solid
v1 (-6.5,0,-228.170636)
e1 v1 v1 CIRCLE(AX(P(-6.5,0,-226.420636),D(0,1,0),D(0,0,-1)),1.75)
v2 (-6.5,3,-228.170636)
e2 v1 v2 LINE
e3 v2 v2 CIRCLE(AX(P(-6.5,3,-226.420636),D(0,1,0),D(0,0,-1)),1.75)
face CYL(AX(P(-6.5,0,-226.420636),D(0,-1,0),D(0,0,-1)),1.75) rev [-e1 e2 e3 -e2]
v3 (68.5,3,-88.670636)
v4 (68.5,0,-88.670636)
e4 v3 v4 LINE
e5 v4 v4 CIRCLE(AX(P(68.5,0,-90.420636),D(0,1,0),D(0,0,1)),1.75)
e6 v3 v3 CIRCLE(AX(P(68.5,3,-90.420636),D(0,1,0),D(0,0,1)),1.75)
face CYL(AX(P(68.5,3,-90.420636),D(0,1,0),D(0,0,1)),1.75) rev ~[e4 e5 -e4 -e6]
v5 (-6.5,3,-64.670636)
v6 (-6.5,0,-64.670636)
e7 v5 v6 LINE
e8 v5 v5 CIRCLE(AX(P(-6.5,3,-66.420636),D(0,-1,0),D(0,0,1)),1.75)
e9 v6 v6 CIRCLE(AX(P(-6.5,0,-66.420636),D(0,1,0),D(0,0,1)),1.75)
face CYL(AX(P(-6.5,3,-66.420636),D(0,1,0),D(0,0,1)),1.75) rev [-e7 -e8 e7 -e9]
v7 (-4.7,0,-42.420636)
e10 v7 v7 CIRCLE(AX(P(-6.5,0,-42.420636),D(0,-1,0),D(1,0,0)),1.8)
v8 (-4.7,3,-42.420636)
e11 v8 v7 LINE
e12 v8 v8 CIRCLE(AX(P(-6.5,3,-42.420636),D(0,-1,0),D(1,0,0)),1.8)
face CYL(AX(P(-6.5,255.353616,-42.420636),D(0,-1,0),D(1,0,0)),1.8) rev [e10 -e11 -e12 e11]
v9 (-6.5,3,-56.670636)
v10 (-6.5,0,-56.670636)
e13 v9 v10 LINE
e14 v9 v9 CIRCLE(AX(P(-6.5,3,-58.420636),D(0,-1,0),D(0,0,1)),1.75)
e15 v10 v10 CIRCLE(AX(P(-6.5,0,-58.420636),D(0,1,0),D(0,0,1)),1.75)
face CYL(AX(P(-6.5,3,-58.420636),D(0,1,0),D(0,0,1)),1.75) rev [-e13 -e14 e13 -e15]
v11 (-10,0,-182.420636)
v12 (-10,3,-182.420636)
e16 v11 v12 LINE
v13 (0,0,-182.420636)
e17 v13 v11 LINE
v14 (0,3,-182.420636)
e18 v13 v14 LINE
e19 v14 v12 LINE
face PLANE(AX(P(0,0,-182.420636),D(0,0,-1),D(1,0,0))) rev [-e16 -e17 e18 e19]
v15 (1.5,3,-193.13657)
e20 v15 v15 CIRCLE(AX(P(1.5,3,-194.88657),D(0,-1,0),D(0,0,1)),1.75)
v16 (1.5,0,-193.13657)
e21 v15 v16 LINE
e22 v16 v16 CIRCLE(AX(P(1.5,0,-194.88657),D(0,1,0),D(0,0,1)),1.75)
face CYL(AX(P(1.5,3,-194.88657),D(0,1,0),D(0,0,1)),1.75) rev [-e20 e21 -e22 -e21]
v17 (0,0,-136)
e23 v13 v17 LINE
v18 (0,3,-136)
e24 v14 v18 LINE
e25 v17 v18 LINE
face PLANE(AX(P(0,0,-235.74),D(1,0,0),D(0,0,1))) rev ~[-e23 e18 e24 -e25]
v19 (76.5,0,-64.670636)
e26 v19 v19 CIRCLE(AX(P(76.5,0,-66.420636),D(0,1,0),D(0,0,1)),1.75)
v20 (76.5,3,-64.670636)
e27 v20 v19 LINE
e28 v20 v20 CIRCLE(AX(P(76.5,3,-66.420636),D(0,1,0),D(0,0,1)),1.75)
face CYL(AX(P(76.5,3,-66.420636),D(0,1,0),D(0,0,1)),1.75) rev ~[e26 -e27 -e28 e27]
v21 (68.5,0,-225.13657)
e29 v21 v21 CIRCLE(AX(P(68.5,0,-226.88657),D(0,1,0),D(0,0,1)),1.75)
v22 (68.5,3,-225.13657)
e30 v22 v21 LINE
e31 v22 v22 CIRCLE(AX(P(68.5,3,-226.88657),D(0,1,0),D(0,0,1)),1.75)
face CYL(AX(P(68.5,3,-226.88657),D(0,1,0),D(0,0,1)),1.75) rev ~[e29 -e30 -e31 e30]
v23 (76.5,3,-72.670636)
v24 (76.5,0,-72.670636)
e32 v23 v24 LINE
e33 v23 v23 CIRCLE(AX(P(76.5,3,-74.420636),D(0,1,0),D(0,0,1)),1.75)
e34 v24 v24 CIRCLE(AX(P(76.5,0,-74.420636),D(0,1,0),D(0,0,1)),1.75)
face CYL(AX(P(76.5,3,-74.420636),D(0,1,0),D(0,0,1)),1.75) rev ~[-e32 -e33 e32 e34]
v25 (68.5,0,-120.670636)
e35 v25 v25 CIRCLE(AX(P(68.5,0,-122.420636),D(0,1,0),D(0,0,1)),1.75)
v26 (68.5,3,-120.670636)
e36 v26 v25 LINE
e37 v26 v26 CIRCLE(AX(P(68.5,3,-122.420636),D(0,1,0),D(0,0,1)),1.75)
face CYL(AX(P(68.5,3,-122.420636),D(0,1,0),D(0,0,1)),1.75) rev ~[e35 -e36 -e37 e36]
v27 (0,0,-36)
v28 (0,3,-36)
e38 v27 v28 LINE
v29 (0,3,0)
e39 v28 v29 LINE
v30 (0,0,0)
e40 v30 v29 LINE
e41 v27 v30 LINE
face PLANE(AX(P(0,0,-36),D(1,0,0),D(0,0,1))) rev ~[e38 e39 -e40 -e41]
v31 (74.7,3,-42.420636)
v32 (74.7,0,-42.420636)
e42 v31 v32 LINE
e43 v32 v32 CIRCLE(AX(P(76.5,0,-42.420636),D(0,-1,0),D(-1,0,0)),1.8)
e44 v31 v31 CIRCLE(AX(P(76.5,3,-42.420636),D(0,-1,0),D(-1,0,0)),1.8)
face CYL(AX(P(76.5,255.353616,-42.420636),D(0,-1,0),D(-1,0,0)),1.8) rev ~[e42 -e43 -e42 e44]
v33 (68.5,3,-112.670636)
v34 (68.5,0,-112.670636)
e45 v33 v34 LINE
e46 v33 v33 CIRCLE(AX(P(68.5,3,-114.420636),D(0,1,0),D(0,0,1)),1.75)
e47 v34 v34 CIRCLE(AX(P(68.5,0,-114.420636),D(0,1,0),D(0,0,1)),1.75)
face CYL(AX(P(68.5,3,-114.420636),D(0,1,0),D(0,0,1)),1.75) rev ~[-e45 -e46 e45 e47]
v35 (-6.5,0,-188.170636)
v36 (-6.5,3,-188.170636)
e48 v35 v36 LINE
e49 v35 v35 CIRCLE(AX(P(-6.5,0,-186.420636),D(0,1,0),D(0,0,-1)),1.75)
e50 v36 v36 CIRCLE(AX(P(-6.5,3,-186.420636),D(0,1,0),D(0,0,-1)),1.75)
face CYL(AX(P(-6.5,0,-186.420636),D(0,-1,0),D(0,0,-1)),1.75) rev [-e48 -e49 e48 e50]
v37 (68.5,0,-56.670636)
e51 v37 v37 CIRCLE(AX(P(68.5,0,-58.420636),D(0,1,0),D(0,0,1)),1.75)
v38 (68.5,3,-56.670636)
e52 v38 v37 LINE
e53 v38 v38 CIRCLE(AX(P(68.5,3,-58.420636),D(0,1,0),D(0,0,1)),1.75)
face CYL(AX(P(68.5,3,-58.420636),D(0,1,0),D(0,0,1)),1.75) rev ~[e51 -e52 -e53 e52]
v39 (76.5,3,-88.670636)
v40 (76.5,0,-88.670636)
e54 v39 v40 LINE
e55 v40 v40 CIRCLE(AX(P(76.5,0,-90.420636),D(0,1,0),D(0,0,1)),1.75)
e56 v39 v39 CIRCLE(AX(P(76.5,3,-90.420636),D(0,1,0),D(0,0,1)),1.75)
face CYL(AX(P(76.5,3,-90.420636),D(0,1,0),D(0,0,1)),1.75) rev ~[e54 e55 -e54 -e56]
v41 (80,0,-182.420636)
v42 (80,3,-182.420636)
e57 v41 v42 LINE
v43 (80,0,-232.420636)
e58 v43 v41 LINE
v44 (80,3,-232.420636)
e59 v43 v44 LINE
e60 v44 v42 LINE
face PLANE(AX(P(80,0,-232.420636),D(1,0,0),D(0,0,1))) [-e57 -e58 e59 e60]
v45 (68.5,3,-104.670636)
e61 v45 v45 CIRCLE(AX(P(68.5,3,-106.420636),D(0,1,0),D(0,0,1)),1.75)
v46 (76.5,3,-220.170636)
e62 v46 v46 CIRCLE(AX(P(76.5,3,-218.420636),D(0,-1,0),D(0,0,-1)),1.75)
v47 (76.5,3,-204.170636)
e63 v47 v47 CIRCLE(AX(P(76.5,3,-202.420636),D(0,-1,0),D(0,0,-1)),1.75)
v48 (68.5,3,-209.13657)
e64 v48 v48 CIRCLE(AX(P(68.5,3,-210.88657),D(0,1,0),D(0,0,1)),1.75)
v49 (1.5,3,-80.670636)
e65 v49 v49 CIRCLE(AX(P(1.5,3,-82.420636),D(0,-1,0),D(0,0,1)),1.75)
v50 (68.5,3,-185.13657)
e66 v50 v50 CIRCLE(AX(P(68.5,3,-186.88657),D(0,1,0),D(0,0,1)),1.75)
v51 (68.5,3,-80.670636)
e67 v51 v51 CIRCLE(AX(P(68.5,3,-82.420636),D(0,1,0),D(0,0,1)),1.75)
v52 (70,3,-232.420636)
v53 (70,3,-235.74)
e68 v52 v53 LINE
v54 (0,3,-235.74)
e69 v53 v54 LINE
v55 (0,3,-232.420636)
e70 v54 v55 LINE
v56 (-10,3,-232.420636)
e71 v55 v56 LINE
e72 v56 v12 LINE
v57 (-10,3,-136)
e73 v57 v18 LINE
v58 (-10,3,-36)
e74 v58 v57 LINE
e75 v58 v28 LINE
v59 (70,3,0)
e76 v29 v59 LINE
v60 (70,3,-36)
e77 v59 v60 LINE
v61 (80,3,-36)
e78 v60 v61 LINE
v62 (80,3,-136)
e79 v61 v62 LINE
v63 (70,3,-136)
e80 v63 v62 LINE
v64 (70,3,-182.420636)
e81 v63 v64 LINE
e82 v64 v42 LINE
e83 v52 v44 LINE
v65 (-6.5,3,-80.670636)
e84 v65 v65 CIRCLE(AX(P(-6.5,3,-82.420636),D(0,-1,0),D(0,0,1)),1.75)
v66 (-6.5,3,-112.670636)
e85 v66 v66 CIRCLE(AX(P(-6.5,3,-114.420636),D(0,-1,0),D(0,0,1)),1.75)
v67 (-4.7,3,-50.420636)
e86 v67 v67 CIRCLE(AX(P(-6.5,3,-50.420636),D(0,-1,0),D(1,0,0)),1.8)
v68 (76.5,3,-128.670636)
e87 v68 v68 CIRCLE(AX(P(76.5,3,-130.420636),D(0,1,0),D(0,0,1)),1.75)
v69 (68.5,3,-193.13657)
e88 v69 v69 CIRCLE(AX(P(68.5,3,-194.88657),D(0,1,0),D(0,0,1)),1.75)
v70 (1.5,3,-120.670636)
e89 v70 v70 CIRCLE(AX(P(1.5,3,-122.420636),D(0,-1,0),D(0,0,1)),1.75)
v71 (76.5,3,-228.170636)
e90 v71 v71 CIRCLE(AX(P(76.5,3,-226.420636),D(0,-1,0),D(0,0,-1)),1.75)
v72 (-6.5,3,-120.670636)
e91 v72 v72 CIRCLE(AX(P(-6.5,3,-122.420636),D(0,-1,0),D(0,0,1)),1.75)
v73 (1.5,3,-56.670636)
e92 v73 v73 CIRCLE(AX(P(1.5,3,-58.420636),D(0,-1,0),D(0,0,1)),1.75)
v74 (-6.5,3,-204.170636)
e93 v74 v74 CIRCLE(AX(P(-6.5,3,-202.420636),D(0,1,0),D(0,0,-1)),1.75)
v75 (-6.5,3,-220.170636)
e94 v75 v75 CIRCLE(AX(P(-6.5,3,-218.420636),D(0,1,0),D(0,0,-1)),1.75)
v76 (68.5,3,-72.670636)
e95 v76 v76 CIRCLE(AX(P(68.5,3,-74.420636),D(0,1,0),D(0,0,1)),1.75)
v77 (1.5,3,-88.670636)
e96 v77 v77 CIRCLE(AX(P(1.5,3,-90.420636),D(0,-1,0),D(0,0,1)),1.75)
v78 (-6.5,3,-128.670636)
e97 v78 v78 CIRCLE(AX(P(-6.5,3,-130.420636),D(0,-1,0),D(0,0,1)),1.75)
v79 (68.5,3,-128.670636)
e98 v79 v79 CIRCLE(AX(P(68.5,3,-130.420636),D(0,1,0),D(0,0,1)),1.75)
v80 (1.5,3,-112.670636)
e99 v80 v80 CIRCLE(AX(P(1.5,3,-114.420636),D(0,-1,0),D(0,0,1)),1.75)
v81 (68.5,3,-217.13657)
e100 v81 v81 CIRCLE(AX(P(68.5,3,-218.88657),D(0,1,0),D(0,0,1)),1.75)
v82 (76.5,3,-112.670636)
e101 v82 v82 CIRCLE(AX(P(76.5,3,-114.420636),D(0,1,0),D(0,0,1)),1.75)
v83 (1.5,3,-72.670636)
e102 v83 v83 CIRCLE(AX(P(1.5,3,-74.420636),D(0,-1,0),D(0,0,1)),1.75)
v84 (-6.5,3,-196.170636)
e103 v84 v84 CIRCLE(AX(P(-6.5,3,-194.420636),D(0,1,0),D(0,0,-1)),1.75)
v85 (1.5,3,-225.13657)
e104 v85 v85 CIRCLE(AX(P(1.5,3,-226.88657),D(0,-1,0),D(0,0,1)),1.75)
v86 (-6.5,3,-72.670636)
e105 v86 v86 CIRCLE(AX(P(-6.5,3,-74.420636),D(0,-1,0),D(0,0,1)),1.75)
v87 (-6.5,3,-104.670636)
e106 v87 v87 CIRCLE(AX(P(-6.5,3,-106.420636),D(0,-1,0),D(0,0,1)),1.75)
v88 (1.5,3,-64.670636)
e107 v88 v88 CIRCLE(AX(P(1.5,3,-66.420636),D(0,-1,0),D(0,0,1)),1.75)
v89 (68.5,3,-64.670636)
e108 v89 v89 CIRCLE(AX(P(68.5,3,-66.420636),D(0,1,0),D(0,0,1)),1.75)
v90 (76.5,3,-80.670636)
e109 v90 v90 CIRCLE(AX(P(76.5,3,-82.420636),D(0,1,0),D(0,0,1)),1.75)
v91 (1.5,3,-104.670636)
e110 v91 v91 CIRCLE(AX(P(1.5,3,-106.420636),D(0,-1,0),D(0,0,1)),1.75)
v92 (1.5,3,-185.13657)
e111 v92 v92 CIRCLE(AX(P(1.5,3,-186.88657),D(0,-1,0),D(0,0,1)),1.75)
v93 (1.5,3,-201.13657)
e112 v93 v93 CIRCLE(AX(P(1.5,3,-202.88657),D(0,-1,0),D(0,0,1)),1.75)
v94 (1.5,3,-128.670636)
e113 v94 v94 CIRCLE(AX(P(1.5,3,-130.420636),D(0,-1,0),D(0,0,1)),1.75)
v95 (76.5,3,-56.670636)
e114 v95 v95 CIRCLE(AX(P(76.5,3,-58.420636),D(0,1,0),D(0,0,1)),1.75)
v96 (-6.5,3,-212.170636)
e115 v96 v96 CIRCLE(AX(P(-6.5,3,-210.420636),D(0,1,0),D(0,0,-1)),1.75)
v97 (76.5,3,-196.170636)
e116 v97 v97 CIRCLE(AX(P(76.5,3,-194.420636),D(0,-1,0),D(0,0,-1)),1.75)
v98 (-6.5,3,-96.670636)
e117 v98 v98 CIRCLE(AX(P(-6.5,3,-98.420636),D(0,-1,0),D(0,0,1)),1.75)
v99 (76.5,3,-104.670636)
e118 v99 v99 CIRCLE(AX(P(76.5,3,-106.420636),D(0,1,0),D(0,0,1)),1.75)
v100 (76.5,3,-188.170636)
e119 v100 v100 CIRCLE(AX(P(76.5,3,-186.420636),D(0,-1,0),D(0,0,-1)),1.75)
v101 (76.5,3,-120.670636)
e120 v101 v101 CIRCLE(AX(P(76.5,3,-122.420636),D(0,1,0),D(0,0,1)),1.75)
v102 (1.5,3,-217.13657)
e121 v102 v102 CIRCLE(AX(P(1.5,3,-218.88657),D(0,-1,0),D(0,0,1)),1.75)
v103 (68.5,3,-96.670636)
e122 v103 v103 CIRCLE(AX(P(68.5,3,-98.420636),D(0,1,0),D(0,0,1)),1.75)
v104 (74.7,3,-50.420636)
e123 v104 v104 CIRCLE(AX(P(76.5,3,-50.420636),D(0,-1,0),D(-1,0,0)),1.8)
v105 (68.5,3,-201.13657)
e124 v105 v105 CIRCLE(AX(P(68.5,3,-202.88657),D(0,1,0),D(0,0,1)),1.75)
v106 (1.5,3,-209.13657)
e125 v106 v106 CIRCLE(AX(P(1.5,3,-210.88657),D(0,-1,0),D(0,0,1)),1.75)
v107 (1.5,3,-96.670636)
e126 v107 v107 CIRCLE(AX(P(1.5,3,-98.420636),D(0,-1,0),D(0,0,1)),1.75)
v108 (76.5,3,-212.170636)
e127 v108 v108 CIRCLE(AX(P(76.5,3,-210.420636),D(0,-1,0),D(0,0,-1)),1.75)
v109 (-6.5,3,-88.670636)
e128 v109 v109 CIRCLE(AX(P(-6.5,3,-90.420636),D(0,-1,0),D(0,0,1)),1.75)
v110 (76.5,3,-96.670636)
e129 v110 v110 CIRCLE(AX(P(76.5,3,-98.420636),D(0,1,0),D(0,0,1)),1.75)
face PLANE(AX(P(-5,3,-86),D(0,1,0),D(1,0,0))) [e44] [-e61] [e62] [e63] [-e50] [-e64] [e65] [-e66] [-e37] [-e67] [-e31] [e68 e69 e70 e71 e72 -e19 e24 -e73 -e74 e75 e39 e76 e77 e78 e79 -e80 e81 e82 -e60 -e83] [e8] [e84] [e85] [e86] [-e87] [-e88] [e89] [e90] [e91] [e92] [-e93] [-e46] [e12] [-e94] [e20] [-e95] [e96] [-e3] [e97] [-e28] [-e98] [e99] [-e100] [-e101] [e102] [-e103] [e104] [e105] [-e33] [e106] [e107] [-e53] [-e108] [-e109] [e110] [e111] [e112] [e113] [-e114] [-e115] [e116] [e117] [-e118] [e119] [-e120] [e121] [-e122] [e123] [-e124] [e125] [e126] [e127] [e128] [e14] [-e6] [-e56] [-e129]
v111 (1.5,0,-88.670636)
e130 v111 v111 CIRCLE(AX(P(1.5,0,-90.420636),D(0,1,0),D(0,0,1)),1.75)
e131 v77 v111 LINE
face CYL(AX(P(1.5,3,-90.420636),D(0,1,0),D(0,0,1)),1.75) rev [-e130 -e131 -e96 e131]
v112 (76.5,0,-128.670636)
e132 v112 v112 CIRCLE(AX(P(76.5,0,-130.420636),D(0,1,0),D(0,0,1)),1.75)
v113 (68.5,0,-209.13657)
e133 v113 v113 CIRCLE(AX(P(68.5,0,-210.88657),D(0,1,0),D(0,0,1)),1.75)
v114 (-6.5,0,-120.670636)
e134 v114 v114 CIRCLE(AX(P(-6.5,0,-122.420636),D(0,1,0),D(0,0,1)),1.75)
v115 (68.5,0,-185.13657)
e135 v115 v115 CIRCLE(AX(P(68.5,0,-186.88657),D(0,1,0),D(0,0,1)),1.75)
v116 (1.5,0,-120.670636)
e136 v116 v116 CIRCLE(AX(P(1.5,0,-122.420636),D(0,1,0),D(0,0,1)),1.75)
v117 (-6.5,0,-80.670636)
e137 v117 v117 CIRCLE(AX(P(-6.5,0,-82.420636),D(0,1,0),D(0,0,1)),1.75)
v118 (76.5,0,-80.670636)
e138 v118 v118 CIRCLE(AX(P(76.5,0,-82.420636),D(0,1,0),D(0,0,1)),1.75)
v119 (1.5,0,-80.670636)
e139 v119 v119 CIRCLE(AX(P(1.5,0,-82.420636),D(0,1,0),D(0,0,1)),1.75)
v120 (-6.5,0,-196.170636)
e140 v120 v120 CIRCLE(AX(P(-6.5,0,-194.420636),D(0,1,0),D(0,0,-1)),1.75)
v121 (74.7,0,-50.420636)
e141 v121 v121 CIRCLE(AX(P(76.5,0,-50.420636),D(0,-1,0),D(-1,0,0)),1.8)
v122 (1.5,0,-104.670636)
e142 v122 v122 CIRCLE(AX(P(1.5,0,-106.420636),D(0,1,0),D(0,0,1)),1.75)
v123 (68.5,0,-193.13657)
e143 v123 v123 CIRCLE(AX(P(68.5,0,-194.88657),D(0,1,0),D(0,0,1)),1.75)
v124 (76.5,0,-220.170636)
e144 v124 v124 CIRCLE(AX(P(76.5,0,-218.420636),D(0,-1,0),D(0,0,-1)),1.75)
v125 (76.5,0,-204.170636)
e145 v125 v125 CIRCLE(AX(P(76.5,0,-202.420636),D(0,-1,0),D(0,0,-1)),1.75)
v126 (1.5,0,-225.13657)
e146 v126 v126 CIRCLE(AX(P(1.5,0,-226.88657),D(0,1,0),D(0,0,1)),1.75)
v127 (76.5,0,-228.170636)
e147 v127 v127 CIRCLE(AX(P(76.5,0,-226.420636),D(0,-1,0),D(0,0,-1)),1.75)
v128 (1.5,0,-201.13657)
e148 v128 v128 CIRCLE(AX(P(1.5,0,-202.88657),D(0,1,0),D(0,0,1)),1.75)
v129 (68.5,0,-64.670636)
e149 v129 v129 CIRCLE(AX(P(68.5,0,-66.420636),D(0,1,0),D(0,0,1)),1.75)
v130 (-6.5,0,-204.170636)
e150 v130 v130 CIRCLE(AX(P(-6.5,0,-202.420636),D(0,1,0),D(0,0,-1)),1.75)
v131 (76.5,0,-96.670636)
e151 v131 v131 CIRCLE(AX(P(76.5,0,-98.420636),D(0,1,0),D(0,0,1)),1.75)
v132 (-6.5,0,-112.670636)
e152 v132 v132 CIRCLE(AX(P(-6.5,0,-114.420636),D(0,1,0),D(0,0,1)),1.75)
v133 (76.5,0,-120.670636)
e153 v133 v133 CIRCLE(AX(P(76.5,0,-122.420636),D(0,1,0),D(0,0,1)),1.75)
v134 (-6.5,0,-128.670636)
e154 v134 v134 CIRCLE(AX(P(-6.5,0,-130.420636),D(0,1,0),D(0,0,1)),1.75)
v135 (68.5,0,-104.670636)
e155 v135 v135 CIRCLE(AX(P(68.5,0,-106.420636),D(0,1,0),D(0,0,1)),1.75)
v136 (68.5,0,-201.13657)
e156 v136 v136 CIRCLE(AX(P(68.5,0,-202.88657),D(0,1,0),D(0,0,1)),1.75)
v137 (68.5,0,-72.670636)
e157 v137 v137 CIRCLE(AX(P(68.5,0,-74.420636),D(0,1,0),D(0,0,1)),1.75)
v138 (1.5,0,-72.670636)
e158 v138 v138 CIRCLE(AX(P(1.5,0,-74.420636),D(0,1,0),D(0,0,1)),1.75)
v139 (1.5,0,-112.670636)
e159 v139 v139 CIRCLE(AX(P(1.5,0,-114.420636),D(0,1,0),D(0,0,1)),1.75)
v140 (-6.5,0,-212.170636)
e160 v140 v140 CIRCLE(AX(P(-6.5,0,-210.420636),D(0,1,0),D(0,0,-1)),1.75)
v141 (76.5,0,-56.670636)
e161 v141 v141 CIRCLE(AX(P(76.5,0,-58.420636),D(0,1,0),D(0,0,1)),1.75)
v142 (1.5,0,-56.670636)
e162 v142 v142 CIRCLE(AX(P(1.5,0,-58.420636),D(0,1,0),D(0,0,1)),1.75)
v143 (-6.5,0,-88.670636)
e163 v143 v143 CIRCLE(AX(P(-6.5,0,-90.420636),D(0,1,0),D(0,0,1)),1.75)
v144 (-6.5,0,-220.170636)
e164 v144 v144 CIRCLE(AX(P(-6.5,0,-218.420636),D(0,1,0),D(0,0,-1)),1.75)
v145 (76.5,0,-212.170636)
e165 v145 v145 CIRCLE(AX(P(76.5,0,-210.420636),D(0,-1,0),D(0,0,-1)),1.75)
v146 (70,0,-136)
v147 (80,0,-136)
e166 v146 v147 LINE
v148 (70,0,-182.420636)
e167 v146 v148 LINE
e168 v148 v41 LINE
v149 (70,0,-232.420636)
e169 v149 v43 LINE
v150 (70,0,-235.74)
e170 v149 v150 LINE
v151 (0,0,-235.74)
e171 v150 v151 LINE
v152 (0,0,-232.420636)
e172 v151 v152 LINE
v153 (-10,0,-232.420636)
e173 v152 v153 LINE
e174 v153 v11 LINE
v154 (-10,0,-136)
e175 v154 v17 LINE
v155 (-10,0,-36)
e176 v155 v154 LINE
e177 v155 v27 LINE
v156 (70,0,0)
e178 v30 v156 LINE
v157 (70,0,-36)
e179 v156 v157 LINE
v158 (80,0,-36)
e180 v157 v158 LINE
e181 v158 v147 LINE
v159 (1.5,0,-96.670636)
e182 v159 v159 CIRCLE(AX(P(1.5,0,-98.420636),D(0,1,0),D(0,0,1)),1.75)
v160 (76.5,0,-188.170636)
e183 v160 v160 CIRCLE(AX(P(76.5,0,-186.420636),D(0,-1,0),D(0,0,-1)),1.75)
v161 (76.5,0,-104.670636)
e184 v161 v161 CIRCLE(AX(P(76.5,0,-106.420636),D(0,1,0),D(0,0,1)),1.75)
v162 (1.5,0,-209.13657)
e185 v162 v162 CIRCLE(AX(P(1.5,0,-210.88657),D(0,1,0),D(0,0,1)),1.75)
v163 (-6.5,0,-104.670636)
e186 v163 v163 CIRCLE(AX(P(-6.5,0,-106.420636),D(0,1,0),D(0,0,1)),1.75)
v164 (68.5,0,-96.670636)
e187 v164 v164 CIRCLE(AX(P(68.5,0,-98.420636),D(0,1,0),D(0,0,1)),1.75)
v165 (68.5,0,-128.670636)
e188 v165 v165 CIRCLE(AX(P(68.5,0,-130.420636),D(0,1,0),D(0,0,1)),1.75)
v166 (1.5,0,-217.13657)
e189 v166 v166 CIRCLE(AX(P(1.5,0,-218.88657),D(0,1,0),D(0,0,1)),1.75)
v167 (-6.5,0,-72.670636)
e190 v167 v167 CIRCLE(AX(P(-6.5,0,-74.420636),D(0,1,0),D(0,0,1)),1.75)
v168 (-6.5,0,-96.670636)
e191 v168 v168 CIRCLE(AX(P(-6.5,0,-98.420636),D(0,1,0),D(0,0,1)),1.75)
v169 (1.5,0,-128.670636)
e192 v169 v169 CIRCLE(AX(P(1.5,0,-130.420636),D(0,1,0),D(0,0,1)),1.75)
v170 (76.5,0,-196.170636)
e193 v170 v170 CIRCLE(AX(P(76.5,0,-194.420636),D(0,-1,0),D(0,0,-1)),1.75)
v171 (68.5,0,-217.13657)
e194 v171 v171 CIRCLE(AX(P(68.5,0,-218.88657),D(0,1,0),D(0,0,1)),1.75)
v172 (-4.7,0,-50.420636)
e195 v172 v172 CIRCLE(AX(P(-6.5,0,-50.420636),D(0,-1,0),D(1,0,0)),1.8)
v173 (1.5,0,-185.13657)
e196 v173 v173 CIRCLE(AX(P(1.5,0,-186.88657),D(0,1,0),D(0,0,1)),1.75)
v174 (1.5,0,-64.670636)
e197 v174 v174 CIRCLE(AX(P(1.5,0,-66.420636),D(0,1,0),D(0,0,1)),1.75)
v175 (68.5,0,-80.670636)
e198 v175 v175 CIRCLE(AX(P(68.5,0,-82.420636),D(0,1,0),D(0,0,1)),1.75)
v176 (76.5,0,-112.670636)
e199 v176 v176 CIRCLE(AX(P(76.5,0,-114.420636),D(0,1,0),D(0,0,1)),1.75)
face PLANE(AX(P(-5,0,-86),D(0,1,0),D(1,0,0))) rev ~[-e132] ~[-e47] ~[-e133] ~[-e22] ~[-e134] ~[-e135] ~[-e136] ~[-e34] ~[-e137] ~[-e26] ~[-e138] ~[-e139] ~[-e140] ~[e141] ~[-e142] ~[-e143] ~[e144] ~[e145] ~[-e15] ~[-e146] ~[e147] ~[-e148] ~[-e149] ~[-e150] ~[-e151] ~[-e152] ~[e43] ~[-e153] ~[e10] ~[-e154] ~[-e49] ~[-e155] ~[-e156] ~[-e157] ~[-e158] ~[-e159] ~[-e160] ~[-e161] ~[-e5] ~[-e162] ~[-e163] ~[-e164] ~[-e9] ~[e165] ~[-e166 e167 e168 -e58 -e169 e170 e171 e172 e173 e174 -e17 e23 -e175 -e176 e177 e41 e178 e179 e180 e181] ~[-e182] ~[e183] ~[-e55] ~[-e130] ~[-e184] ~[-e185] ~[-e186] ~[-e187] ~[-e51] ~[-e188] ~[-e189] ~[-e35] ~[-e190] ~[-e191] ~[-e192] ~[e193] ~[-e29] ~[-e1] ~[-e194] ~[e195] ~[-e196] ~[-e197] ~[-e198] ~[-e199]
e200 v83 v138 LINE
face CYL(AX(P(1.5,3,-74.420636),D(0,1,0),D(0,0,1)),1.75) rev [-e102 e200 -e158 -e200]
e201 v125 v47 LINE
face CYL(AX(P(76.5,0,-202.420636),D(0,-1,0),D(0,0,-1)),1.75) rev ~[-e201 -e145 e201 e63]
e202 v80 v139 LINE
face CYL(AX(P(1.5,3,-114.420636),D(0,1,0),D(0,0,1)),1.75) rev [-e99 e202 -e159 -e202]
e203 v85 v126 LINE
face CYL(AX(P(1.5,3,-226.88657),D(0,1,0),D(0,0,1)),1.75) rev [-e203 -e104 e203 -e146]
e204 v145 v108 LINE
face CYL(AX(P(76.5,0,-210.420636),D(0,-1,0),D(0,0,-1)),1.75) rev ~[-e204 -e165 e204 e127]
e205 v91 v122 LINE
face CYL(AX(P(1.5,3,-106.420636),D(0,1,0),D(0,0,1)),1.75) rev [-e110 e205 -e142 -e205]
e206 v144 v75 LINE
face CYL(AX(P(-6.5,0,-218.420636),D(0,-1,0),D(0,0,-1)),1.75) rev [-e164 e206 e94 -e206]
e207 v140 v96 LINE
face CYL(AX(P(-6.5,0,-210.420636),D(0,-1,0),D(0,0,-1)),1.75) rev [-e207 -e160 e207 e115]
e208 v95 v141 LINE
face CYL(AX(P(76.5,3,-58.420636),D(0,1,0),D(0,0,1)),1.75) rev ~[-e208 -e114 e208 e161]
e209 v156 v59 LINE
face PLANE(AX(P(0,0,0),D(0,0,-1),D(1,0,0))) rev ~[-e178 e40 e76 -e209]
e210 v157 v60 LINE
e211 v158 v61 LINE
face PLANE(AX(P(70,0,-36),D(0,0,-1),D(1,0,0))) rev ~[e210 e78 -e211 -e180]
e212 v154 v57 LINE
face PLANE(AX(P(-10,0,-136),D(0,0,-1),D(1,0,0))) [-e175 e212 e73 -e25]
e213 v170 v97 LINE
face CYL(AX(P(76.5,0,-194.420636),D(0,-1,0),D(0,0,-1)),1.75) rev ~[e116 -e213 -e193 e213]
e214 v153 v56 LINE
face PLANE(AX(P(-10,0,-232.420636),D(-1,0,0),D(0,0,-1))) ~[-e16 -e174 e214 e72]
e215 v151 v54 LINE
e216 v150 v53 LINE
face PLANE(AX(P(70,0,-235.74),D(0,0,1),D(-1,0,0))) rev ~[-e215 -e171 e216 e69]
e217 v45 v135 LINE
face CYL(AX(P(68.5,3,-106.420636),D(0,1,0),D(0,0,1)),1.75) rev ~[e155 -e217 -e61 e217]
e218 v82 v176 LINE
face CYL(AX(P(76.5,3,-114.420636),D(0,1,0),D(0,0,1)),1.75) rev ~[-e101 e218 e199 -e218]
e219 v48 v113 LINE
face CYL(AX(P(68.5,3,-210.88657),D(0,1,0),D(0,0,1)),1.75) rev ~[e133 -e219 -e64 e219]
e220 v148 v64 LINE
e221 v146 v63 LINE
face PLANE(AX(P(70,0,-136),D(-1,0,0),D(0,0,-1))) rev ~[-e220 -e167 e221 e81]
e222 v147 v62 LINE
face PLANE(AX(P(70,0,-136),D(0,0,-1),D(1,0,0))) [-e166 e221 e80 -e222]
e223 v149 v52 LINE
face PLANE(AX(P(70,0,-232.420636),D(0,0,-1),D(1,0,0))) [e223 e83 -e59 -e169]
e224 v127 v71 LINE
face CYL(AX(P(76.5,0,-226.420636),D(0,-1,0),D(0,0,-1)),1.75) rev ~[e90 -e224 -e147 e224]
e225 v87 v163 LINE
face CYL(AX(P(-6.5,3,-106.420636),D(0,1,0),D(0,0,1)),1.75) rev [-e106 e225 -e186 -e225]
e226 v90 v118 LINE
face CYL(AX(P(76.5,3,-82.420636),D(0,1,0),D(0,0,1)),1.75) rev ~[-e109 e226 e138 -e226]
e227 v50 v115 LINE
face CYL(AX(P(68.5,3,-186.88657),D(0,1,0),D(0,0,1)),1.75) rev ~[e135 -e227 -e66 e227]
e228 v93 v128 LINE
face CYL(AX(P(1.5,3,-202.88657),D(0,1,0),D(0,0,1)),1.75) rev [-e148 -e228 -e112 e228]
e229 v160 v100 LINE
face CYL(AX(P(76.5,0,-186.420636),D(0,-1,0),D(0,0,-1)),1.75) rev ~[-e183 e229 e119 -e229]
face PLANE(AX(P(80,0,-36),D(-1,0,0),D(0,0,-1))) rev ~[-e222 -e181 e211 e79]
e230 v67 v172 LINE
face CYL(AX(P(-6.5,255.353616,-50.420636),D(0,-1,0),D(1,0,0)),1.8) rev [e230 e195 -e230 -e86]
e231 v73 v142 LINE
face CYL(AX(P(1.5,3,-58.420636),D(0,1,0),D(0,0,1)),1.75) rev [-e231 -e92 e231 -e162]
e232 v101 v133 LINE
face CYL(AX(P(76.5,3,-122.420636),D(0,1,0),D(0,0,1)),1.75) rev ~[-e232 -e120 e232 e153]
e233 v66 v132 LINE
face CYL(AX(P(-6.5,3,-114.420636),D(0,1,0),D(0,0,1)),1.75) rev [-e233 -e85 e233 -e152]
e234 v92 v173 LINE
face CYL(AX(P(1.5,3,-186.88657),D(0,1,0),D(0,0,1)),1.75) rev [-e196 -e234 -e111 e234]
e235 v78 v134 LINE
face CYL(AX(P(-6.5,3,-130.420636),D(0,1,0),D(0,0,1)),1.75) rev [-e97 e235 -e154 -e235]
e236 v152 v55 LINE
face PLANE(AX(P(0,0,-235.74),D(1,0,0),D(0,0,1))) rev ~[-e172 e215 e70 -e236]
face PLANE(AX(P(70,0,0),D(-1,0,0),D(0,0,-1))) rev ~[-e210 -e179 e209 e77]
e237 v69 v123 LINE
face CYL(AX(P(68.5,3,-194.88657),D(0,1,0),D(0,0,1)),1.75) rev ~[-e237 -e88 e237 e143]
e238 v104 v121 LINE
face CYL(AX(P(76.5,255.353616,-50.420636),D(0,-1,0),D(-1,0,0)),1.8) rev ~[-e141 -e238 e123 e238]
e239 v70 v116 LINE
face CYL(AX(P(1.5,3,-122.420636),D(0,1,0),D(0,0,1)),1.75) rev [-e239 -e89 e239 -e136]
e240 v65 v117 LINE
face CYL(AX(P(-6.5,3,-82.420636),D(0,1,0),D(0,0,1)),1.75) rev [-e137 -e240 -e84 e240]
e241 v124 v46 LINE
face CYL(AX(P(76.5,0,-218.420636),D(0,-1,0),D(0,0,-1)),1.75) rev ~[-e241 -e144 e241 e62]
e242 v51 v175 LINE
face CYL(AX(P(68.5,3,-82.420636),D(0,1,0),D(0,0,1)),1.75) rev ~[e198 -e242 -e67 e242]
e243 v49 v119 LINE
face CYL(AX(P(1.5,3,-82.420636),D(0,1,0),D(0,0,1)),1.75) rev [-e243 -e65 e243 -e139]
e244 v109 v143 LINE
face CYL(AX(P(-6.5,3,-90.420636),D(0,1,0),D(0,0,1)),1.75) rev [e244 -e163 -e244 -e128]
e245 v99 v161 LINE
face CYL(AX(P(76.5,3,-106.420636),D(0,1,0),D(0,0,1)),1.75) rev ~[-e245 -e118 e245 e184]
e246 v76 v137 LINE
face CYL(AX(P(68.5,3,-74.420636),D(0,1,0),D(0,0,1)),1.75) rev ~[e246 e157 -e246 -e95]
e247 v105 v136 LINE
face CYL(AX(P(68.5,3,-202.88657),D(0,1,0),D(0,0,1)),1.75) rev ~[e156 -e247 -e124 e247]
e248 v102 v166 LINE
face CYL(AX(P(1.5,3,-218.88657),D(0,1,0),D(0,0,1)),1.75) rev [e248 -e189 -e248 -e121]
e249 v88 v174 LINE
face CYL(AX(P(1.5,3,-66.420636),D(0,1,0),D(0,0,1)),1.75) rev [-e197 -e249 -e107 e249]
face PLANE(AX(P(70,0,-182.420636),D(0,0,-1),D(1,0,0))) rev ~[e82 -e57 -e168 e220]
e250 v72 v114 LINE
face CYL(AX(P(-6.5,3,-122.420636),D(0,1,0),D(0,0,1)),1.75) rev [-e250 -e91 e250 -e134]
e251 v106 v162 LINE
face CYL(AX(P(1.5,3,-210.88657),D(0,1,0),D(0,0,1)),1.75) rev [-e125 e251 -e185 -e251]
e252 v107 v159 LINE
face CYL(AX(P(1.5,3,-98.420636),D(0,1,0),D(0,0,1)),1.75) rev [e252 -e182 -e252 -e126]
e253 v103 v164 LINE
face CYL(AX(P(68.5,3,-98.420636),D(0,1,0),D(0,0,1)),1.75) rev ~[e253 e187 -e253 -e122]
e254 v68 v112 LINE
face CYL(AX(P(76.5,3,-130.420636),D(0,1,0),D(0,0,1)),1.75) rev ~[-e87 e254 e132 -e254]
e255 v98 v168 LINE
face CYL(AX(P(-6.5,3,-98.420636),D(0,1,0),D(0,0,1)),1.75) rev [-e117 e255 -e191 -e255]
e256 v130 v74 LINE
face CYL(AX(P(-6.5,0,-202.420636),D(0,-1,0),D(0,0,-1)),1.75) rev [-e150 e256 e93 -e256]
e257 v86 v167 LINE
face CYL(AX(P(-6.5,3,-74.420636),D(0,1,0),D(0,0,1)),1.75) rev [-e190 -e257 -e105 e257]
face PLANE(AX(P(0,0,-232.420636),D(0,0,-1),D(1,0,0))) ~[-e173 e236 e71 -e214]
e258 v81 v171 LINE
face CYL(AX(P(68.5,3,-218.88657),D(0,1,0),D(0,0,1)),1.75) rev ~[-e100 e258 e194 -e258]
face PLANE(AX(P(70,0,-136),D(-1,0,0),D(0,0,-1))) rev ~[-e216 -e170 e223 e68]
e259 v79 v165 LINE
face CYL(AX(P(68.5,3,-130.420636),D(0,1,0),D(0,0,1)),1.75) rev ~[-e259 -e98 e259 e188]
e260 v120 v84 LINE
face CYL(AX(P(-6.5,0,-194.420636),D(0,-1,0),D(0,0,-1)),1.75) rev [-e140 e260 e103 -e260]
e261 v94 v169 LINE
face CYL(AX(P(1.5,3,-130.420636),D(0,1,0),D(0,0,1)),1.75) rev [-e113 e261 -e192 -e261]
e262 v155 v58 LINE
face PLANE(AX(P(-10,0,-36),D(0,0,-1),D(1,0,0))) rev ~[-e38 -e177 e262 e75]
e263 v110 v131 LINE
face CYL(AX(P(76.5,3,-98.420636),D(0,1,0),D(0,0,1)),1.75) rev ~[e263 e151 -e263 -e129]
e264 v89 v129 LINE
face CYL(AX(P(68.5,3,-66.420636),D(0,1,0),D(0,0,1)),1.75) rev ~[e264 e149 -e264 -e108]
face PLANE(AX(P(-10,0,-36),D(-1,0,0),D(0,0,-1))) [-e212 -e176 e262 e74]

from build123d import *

# Parameters (mm, degrees)
SKETCH5_W            = 10
SKETCH5_H            = 100
BOSS_EXTRUDE5_DEPTH  = 3
M3_CLEARANCE_HOLE1_D = 3.6
SKETCH8_R            = 1.75
CUT_EXTRUDE1_DEPTH   = 249.962542564
SKETCH10_W           = 10
SKETCH10_H           = 50
SKETCH10_R           = 1.75
BOSS_EXTRUDE6_DEPTH  = 3
SKETCH11_R           = 1.75
CUT_EXTRUDE2_DEPTH   = 249.962542564


with BuildPart() as part:
    # Sketch5 → Boss-Extrude5 (new body)
    with BuildSketch(Plane(origin=(0, 0, 0), x_dir=(1, 0, 0), z_dir=(0, 1, 0))):
        with Locations((-5, 86)):
            Rectangle(SKETCH5_W, SKETCH5_H)
        Polygon((0, 0), (35, 0), (35, 235.74), (0, 235.74), (0, 136), (0, 36), align=None)
        Polygon((70, 0), (70, 36), (70, 136), (70, 235.74), (35, 235.74), (35, 0), align=None)
        with Locations((75, 86)):
            Rectangle(SKETCH5_W, SKETCH5_H)
    extrude(amount=BOSS_EXTRUDE5_DEPTH)

    # M3 Clearance Hole1 (through all)
    with Locations(Plane(origin=(0, 3, 0), x_dir=(1, 0, 0), z_dir=(0, 1, 0))):
        with Locations((76.5, 50.420635549), (76.5, 42.420635549)):
            m3_clearance_hole1 = Hole(M3_CLEARANCE_HOLE1_D / 2)

    # Sketch8 → Cut-Extrude1 (cut, through all)
    with BuildSketch(Plane(origin=(0, 3, 0), x_dir=(1, 0, 0), z_dir=(0, 1, 0))):
        with Locations(Location((76.5, 58.420635549, 0), (0, 0, 270))):
            Circle(SKETCH8_R)
        with Locations(Location((76.5, 66.420635549, 0), (0, 0, 270))):
            Circle(SKETCH8_R)
        with Locations(Location((76.5, 74.420635549, 0), (0, 0, 270))):
            Circle(SKETCH8_R)
        with Locations(Location((76.5, 82.420635549, 0), (0, 0, 270))):
            Circle(SKETCH8_R)
        with Locations(Location((68.5, 58.420635549, 0), (0, 0, 270))):
            Circle(SKETCH8_R)
        with Locations(Location((68.5, 66.420635549, 0), (0, 0, 270))):
            Circle(SKETCH8_R)
        with Locations(Location((68.5, 74.420635549, 0), (0, 0, 270))):
            Circle(SKETCH8_R)
        with Locations(Location((68.5, 82.420635549, 0), (0, 0, 270))):
            Circle(SKETCH8_R)
        with Locations(Location((68.5, 90.420635549, 0), (0, 0, 270))):
            Circle(SKETCH8_R)
        with Locations(Location((76.5, 90.420635549, 0), (0, 0, 270))):
            Circle(SKETCH8_R)
        with Locations(Location((76.5, 98.420635549, 0), (0, 0, 270))):
            Circle(SKETCH8_R)
        with Locations(Location((68.5, 98.420635549, 0), (0, 0, 270))):
            Circle(SKETCH8_R)
        with Locations(Location((68.5, 106.420635549, 0), (0, 0, 270))):
            Circle(SKETCH8_R)
        with Locations(Location((76.5, 106.420635549, 0), (0, 0, 270))):
            Circle(SKETCH8_R)
        with Locations(Location((68.5, 114.420635549, 0), (0, 0, 270))):
            Circle(SKETCH8_R)
        with Locations(Location((76.5, 114.420635549, 0), (0, 0, 270))):
            Circle(SKETCH8_R)
        with Locations(Location((68.5, 122.420635549, 0), (0, 0, 270))):
            Circle(SKETCH8_R)
        with Locations(Location((76.5, 122.420635549, 0), (0, 0, 270))):
            Circle(SKETCH8_R)
        with Locations(Location((76.5, 130.420635549, 0), (0, 0, 270))):
            Circle(SKETCH8_R)
        with Locations(Location((68.5, 130.420635549, 0), (0, 0, 270))):
            Circle(SKETCH8_R)
    cut_extrude1 = extrude(amount=-CUT_EXTRUDE1_DEPTH, mode=Mode.SUBTRACT)

    # Sketch10 → Boss-Extrude6 (add)
    with BuildSketch(Plane.XZ):
        with Locations((75, -207.420635549)):
            Rectangle(SKETCH10_W, SKETCH10_H)
        with Locations(Location((76.5, -186.420635549, 0), (0, 0, 270))):
            Circle(SKETCH10_R, mode=Mode.SUBTRACT)
        with Locations(Location((76.5, -194.420635549, 0), (0, 0, 270))):
            Circle(SKETCH10_R, mode=Mode.SUBTRACT)
        with Locations(Location((76.5, -202.420635549, 0), (0, 0, 270))):
            Circle(SKETCH10_R, mode=Mode.SUBTRACT)
        with Locations(Location((76.5, -210.420635549, 0), (0, 0, 270))):
            Circle(SKETCH10_R, mode=Mode.SUBTRACT)
        with Locations(Location((76.5, -218.420635549, 0), (0, 0, 270))):
            Circle(SKETCH10_R, mode=Mode.SUBTRACT)
        with Locations(Location((76.5, -226.420635549, 0), (0, 0, 270))):
            Circle(SKETCH10_R, mode=Mode.SUBTRACT)
    boss_extrude6 = extrude(amount=-BOSS_EXTRUDE6_DEPTH)

    # Sketch11 → Cut-Extrude2 (cut, through all)
    with BuildSketch(Plane(origin=(0, 3, 0), x_dir=(1, 0, 0), z_dir=(0, 1, 0))):
        with Locations(Location((68.5, 226.886570254, 0), (0, 0, 270))):
            Circle(SKETCH11_R)
        with Locations(Location((68.5, 218.886570254, 0), (0, 0, 270))):
            Circle(SKETCH11_R)
        with Locations(Location((68.5, 210.886570254, 0), (0, 0, 270))):
            Circle(SKETCH11_R)
        with Locations(Location((68.5, 202.886570254, 0), (0, 0, 270))):
            Circle(SKETCH11_R)
        with Locations(Location((68.5, 194.886570254, 0), (0, 0, 270))):
            Circle(SKETCH11_R)
        with Locations(Location((68.5, 186.886570254, 0), (0, 0, 270))):
            Circle(SKETCH11_R)
    cut_extrude2 = extrude(amount=-CUT_EXTRUDE2_DEPTH, mode=Mode.SUBTRACT)

    # Mirror1: M3 Clearance Hole1, Cut-Extrude1, Boss-Extrude6, Cut-Extrude2 across plane
    add(m3_clearance_hole1.mirror(Plane.ZY.offset(-35)), mode=Mode.SUBTRACT)
    add(cut_extrude1.mirror(Plane.ZY.offset(-35)), mode=Mode.SUBTRACT)
    add(boss_extrude6.mirror(Plane.ZY.offset(-35)))
    add(cut_extrude2.mirror(Plane.ZY.offset(-35)), mode=Mode.SUBTRACT)


solid = part.part
